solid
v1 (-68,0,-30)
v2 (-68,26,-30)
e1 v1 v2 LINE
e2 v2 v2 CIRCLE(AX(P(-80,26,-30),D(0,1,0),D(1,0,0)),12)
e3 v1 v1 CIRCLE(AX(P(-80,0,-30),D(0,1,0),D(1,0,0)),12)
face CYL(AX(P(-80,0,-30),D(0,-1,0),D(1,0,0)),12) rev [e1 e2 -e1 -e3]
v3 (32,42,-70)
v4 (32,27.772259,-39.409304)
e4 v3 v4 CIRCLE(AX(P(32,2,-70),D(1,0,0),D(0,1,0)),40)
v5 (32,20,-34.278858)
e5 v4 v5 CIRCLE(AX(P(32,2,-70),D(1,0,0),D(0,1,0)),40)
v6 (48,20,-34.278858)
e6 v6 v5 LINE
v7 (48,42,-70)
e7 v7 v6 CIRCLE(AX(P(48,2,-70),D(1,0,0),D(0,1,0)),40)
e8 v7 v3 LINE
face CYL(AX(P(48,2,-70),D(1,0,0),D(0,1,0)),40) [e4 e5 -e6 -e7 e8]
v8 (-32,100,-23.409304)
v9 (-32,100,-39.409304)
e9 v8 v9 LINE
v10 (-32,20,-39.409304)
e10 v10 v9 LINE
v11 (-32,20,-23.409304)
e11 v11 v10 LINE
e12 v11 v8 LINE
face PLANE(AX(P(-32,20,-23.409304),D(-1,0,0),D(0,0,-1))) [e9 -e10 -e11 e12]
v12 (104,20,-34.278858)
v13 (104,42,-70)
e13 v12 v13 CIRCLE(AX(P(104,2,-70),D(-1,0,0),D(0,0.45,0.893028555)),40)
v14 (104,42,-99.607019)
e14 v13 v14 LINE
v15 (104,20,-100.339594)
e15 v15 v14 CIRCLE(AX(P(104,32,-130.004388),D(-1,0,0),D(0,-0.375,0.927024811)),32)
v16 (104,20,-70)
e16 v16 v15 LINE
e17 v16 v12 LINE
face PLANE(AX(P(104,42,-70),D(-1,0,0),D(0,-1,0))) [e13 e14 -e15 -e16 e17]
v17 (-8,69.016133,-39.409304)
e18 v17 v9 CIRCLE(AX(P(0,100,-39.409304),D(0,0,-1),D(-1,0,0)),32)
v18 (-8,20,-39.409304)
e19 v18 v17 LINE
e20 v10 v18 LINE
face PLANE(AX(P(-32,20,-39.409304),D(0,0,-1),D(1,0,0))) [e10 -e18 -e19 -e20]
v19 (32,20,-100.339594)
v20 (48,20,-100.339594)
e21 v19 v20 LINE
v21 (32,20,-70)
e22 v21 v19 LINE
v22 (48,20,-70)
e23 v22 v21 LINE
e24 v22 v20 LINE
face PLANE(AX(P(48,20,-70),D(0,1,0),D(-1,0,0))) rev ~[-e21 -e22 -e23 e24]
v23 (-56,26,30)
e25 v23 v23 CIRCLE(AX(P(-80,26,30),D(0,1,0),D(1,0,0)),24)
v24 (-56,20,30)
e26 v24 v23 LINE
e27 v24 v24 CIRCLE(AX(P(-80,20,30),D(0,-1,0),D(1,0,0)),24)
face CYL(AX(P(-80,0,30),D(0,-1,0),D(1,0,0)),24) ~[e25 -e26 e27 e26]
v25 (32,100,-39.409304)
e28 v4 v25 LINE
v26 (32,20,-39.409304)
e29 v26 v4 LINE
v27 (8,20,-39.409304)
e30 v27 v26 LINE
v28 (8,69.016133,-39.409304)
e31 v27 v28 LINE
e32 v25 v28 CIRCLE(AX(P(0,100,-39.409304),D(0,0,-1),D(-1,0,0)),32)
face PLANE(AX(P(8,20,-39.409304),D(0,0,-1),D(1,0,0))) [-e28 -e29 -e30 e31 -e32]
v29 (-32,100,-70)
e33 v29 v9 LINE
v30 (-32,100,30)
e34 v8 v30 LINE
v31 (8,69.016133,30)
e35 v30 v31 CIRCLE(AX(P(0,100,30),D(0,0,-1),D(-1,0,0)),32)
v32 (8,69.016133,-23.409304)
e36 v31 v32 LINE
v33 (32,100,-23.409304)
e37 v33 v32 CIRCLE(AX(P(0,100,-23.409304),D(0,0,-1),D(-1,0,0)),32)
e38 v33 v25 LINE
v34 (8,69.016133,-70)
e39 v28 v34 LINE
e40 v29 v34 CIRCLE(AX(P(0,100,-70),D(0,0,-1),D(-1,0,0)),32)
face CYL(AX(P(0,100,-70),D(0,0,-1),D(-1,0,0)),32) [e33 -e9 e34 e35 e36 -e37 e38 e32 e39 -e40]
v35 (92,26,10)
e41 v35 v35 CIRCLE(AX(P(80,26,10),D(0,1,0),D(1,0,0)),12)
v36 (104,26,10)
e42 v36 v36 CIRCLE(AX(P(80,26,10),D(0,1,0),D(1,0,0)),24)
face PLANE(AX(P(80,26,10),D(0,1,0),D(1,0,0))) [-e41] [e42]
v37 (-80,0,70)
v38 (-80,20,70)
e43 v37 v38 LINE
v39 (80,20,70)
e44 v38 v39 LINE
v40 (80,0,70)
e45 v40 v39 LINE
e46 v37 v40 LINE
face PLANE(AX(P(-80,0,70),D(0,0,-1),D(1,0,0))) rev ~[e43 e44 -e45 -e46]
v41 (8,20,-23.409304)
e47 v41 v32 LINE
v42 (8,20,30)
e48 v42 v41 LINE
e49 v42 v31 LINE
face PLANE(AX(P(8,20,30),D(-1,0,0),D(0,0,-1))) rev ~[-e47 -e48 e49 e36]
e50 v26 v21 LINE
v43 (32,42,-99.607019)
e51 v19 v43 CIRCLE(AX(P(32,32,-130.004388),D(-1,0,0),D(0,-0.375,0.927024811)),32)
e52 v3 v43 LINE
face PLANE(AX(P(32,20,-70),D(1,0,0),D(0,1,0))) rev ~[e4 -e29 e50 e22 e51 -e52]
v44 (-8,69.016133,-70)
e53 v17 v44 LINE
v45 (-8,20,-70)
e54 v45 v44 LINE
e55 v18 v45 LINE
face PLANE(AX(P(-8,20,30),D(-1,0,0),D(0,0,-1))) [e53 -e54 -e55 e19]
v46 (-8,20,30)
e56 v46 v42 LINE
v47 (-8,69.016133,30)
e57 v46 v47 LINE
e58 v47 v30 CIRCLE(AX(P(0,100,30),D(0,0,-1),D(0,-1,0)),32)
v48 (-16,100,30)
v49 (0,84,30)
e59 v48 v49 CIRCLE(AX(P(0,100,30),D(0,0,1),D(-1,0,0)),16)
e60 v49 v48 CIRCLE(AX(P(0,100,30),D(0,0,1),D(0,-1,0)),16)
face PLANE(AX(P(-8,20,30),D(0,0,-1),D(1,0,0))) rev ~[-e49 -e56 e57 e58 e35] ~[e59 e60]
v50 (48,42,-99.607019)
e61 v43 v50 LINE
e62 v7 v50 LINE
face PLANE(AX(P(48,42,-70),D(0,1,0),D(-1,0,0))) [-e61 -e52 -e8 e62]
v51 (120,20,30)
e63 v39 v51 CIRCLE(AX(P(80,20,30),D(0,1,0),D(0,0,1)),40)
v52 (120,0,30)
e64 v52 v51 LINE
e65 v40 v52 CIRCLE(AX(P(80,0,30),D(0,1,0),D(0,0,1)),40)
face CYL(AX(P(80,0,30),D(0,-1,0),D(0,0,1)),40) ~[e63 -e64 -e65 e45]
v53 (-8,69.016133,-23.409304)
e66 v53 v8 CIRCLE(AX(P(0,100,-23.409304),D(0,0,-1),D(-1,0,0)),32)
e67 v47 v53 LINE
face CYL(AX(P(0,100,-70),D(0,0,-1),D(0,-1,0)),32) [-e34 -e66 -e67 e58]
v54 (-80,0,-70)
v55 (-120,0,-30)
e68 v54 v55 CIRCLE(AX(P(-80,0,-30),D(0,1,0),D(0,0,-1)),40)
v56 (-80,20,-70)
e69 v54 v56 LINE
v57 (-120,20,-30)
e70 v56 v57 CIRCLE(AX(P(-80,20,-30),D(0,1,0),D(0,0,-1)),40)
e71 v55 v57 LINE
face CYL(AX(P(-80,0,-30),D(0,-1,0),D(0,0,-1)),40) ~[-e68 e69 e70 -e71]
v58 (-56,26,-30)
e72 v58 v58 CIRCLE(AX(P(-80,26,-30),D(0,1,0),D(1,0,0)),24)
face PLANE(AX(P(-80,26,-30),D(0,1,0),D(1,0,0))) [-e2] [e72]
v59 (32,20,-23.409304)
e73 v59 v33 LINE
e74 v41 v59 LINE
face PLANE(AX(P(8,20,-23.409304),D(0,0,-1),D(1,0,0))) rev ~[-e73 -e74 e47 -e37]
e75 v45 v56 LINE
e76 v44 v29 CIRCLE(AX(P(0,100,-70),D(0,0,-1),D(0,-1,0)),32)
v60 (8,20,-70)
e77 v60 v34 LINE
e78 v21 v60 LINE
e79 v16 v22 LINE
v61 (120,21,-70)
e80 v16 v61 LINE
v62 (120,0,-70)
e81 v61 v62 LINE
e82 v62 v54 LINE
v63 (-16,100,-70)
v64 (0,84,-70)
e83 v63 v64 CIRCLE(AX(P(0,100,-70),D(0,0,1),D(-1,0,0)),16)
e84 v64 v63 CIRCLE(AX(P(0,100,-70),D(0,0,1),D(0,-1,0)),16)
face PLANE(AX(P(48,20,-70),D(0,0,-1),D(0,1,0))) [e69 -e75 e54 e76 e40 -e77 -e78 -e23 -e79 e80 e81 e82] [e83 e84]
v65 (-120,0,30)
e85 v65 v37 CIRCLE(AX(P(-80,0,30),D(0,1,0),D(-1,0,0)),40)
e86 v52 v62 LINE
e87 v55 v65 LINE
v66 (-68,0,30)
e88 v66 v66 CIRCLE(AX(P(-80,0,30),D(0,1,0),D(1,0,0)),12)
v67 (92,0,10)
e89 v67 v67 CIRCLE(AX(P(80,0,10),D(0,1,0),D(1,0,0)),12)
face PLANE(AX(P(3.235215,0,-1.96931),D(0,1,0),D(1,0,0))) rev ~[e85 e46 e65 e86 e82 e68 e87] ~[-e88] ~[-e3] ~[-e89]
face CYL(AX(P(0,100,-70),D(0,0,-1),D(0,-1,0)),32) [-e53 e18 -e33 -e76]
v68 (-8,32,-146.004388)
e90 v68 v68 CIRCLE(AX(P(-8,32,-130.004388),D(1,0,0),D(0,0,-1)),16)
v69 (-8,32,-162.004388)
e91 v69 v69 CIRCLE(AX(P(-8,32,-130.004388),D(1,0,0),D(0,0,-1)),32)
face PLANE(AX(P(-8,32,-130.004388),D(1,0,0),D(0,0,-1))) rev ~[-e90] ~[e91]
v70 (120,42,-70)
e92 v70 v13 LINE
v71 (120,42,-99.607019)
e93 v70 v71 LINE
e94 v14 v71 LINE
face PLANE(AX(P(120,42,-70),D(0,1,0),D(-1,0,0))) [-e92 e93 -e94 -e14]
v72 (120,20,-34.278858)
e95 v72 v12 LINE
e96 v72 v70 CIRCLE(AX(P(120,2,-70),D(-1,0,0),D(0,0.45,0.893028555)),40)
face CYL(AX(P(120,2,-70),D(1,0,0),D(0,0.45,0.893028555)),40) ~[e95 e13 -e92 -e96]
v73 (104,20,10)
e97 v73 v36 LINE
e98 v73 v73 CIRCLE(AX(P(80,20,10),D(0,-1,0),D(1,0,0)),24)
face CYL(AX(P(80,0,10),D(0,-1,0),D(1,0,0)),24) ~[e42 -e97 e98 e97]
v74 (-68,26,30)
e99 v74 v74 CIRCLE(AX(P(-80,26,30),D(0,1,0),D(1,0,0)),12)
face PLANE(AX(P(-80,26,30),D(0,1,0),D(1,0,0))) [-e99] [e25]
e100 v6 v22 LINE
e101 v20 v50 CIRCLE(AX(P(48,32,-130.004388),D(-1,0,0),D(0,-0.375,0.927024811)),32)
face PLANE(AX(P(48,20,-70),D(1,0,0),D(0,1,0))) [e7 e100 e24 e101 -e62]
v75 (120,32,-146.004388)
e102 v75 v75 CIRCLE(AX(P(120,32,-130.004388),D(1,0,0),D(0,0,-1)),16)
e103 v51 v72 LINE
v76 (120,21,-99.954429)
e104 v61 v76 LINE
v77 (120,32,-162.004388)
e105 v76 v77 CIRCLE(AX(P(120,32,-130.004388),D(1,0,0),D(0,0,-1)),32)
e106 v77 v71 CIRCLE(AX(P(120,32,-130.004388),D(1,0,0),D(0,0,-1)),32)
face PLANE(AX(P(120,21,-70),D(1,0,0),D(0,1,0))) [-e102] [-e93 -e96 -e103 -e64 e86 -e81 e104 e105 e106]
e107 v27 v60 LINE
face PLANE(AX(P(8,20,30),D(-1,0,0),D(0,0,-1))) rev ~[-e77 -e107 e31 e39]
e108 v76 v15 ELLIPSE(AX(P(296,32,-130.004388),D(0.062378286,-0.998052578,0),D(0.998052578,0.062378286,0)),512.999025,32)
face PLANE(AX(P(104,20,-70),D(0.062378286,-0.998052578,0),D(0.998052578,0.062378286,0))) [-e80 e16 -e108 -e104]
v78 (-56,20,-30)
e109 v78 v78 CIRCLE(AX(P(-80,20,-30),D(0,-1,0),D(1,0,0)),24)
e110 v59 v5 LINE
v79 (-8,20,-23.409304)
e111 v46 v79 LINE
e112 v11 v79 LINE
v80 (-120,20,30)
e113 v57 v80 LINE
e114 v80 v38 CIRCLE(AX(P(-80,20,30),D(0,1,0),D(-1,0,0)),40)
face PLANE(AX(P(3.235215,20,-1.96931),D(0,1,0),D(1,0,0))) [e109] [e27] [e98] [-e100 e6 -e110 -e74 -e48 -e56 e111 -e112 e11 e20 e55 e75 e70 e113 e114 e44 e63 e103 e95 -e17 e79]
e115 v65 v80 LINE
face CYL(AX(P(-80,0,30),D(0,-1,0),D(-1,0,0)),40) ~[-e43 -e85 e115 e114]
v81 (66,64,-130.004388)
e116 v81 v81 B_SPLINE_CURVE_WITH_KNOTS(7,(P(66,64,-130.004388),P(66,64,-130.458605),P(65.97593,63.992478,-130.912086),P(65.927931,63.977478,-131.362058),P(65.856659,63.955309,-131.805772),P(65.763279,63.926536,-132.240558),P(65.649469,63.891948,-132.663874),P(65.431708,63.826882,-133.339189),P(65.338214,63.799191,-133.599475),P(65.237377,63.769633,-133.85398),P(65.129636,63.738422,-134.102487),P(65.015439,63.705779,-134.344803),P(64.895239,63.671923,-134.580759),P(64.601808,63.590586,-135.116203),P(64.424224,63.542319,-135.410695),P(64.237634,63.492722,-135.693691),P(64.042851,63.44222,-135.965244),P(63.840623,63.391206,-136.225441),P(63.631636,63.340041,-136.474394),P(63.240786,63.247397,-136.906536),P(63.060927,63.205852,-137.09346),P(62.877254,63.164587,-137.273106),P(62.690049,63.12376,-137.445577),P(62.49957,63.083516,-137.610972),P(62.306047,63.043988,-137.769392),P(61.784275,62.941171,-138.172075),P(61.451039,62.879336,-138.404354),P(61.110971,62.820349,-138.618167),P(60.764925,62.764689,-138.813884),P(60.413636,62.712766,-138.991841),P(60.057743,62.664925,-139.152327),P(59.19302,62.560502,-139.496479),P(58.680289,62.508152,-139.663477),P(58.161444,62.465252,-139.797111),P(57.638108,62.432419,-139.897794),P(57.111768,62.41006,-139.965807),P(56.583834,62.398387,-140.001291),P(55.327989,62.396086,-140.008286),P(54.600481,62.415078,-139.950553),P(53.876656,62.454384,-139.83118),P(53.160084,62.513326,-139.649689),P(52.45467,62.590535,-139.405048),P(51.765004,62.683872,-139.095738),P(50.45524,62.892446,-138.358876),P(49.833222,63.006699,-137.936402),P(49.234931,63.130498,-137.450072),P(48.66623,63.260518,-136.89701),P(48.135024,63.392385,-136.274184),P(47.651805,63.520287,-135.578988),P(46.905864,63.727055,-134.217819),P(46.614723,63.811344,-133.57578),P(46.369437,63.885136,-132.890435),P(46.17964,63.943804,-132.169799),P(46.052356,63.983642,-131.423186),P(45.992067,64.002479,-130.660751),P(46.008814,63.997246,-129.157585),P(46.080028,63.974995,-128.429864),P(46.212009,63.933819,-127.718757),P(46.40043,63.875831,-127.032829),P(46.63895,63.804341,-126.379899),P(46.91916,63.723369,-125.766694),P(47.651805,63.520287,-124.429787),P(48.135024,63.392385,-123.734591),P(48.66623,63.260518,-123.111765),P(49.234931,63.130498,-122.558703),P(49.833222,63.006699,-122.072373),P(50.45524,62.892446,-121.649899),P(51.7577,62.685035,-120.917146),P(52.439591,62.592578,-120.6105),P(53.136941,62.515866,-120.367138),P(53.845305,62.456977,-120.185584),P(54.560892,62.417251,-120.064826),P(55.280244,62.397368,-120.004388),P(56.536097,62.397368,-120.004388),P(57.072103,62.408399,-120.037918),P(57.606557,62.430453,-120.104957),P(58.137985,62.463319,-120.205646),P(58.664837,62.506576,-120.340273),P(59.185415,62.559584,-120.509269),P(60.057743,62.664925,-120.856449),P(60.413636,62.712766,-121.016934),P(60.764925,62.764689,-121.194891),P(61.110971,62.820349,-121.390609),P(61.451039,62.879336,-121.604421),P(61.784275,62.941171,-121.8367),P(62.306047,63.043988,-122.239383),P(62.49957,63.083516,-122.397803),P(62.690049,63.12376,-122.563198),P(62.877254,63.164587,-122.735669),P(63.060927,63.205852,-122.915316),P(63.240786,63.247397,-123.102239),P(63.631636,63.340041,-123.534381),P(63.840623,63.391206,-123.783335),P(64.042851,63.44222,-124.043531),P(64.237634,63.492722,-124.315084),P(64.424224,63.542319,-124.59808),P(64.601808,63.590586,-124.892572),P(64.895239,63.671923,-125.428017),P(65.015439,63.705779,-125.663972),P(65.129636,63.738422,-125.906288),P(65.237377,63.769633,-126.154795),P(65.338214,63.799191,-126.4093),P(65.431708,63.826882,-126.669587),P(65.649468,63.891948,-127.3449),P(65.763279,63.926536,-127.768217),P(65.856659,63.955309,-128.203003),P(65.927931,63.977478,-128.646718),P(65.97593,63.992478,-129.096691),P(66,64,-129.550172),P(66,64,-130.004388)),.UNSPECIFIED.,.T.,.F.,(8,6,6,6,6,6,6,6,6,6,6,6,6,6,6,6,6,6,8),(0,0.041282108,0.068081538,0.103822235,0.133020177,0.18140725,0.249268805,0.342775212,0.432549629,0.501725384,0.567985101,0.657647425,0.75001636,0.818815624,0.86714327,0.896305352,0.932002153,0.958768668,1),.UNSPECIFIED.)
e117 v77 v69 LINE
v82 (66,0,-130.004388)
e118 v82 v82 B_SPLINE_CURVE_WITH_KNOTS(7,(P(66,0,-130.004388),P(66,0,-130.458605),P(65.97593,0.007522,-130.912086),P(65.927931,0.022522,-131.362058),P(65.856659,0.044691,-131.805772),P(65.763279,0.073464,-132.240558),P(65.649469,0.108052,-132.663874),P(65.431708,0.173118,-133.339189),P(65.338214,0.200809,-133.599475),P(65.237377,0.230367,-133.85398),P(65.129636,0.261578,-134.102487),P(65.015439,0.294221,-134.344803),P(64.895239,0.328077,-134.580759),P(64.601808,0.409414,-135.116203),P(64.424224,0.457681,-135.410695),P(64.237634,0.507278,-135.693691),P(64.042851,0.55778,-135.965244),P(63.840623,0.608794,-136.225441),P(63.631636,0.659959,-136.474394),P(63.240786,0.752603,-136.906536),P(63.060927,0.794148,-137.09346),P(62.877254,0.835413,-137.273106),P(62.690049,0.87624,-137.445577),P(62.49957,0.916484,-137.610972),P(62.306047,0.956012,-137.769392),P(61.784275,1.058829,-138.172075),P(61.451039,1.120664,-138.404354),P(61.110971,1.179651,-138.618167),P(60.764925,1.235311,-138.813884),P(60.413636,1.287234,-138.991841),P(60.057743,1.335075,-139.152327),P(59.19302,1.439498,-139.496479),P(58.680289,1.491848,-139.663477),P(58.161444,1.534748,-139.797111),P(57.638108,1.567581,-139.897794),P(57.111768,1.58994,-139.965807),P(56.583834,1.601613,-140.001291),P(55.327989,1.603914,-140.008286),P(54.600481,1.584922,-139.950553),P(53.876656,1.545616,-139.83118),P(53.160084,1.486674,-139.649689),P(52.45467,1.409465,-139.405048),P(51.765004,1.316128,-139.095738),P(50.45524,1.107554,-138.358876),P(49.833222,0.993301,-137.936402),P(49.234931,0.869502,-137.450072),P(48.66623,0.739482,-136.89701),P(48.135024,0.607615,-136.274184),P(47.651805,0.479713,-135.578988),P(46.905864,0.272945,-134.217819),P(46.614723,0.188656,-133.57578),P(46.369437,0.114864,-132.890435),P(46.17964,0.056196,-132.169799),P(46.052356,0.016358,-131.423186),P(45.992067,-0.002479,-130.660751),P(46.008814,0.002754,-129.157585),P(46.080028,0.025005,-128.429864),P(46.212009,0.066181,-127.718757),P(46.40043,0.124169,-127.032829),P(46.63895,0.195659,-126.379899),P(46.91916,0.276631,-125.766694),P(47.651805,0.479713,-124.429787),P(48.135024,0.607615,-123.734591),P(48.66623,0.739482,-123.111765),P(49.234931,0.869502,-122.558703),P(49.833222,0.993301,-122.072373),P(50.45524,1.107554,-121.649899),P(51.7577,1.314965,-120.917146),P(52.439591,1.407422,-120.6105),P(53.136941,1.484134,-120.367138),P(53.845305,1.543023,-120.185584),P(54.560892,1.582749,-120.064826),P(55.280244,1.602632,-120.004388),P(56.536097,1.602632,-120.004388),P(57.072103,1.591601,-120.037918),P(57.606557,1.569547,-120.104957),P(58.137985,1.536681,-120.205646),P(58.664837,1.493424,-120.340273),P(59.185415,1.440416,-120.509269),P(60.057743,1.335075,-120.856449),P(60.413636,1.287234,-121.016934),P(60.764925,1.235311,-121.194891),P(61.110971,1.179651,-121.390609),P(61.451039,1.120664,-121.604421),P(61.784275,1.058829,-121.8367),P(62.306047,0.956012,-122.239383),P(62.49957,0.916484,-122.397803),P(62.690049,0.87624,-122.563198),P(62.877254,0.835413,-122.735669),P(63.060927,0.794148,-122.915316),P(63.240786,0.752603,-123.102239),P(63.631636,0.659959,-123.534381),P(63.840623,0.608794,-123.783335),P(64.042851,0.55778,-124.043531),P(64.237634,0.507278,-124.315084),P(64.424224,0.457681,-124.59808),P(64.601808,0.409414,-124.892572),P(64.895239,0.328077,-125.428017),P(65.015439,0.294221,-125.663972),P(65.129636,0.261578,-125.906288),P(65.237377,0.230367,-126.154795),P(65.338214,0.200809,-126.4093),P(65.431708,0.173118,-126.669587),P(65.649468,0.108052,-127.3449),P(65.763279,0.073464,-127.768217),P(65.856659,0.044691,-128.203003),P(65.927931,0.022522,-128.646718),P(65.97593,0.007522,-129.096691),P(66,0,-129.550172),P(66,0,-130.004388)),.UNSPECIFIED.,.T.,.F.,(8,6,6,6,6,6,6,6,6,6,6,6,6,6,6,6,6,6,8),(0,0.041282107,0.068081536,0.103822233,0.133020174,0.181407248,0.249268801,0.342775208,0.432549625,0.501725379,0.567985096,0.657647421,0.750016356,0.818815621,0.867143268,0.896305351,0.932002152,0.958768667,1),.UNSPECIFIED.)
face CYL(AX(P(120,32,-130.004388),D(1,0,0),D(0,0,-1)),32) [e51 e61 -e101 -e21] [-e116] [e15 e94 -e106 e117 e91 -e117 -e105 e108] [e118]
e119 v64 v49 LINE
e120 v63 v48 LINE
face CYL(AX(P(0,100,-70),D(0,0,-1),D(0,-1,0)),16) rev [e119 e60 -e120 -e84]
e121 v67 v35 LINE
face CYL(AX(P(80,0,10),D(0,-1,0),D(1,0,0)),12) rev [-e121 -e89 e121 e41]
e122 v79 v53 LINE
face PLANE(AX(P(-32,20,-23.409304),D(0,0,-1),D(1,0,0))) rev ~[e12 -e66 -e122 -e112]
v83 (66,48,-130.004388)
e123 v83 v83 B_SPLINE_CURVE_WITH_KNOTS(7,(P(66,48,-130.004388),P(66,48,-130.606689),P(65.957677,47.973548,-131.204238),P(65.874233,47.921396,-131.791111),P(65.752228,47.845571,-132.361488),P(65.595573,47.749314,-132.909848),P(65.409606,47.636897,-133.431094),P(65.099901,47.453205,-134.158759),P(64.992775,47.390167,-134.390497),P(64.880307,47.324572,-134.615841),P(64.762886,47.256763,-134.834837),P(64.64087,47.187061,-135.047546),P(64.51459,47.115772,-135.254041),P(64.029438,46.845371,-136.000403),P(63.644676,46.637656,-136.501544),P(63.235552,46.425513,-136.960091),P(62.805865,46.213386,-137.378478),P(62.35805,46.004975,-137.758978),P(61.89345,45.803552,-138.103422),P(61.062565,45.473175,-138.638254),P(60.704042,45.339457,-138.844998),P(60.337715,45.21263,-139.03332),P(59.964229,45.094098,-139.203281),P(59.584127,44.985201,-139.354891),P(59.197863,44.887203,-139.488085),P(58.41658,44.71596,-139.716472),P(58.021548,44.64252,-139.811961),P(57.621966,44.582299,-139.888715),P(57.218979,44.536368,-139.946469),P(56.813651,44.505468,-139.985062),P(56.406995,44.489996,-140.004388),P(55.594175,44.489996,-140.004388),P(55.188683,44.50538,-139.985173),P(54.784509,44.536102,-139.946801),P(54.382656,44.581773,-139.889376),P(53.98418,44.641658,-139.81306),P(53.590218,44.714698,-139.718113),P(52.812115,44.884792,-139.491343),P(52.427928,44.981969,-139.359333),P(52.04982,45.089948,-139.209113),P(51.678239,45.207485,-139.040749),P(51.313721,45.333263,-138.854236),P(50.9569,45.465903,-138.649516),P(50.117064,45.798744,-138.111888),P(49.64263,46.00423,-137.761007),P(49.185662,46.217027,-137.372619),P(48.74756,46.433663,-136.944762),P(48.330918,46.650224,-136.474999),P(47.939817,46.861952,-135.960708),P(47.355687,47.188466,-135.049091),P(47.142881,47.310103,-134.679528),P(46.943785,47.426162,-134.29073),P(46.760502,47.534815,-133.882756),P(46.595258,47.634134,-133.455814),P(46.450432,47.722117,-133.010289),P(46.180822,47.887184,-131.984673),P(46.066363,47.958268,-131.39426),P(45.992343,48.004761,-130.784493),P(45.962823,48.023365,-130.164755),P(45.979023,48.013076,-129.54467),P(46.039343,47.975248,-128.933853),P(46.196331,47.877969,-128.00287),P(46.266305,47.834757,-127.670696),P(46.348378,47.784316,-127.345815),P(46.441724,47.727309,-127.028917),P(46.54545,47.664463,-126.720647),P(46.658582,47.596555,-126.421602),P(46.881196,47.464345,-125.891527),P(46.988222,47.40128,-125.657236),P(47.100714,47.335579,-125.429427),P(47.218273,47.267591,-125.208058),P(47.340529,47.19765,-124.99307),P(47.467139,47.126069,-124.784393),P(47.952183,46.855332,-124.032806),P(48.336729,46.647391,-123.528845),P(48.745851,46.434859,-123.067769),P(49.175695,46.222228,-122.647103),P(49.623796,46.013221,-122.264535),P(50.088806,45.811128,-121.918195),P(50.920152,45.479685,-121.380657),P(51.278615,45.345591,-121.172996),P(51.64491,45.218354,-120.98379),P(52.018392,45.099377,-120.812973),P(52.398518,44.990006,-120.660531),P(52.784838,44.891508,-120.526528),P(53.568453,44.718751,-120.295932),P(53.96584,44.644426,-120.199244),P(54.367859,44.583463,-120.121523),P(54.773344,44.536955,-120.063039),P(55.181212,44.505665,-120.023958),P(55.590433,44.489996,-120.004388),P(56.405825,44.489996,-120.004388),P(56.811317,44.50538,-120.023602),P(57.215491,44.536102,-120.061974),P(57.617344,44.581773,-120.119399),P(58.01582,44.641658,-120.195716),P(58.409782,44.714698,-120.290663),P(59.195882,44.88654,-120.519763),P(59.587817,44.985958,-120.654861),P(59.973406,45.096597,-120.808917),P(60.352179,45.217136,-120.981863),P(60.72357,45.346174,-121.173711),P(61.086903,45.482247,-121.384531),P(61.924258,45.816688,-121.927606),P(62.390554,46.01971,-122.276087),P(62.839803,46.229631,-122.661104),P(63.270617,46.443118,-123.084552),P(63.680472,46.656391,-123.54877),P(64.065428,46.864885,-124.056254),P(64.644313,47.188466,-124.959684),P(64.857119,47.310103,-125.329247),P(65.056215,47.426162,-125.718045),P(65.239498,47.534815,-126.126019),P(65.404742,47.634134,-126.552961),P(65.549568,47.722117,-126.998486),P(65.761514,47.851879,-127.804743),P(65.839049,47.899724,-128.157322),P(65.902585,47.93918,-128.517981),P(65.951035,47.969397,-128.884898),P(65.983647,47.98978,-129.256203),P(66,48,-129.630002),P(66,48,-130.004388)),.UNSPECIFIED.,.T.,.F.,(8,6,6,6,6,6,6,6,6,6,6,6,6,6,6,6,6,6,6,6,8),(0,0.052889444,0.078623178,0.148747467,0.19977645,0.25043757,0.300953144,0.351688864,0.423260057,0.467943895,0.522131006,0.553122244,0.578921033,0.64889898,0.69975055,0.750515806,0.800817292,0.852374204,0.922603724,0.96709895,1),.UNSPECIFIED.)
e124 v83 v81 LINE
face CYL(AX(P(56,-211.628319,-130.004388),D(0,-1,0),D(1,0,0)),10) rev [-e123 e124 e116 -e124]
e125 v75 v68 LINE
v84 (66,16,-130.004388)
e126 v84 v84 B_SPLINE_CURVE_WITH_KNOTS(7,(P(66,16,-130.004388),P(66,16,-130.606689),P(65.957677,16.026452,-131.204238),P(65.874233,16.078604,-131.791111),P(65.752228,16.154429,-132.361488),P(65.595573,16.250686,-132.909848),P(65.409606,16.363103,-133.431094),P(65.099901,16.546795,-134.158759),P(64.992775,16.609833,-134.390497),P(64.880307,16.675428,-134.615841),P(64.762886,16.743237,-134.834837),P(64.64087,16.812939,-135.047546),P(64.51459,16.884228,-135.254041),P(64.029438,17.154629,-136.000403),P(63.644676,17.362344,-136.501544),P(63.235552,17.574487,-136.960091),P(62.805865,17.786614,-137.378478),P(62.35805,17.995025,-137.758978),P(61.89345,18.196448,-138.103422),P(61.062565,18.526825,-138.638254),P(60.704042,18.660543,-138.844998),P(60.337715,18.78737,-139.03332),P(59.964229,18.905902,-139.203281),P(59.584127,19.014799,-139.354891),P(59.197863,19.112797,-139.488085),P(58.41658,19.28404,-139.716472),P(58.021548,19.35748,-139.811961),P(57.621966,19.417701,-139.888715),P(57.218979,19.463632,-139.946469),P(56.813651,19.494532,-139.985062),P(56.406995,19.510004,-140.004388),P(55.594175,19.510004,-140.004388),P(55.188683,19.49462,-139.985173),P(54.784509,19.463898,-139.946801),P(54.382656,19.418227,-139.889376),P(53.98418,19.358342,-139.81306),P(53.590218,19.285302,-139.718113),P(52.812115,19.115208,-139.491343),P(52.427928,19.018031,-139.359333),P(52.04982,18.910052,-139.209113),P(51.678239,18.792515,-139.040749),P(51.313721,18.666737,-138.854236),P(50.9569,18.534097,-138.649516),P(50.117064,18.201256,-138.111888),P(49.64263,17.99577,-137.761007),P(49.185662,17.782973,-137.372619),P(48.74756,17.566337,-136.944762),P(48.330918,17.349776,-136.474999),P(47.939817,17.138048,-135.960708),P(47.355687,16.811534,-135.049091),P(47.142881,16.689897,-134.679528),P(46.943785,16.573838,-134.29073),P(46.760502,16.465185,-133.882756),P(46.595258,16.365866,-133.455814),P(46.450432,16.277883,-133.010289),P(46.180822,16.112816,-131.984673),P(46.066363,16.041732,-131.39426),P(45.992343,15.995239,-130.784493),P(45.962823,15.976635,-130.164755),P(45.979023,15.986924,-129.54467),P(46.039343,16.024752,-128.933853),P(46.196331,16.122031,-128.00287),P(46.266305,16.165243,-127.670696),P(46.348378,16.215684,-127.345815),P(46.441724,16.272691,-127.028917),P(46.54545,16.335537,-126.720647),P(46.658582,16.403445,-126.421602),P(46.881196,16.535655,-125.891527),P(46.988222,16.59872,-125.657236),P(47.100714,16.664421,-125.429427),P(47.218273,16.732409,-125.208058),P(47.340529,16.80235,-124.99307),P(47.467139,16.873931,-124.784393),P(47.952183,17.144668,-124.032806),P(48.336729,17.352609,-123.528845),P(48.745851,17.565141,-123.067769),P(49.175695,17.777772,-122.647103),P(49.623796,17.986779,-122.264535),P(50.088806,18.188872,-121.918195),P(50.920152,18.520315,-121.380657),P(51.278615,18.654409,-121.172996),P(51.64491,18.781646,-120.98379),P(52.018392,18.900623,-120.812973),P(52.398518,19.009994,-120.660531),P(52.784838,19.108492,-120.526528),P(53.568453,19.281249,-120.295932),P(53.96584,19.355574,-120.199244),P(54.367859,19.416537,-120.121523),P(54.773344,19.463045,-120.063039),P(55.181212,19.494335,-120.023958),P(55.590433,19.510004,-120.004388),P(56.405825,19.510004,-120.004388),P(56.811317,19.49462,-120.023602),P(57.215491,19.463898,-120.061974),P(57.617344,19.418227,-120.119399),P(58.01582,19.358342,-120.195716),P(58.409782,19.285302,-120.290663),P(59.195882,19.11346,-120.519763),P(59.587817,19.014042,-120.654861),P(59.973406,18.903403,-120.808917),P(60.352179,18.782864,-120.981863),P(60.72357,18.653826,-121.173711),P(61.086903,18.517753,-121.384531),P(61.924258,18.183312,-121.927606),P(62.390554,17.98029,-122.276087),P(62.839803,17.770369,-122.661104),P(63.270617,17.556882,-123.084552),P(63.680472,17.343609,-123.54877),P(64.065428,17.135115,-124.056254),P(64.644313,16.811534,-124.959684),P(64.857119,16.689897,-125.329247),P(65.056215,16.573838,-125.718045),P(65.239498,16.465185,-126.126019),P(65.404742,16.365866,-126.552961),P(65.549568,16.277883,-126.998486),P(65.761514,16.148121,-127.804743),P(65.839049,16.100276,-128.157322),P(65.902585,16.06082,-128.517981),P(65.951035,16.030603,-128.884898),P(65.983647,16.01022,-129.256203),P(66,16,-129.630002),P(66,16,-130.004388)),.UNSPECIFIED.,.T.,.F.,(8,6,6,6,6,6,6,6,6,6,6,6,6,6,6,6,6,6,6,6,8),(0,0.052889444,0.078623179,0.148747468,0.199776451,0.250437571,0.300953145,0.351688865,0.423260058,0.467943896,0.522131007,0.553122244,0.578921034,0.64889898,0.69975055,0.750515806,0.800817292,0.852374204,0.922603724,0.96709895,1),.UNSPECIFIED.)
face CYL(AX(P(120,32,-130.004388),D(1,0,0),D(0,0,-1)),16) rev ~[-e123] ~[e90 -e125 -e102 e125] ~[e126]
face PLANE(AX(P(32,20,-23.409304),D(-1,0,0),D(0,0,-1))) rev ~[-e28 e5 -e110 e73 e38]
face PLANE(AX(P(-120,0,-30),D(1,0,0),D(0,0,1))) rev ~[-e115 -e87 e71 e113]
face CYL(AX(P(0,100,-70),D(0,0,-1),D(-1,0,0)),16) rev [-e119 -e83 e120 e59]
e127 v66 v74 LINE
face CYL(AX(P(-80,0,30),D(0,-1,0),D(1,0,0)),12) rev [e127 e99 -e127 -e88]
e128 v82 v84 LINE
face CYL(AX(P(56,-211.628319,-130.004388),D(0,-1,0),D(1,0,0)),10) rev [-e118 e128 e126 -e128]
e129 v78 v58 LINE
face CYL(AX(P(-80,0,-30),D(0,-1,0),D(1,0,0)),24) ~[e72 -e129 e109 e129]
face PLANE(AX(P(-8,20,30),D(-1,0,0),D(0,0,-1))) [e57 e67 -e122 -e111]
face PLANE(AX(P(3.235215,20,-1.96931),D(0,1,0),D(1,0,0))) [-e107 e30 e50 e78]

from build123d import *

# Parameters (mm, degrees)
SKETCH_3_R               = 12
EXTRUDE_2_DEPTH          = 20
SKETCH_3_7_R             = 24
SKETCH_3_7_R_2           = 12
EXTRUDE_3_DEPTH          = 26
EXTRUDE_5_DEPTH          = 100
EXTRUDE_6_REACH          = 180.449
EXTRUDE_6_END_RADIUS     = 32
SKETCH_15_W              = 16
SKETCH_15_H              = 100
EXTRUDE_9_REACH          = 180.449
EXTRUDE_9_END_RADIUS     = 32
SKETCH_16_W              = 24
SKETCH_16_H              = 16
SKETCH_25_R              = 32
SKETCH_25_R_2            = 16
EXTRUDE_10_DEPTH         = 128
CUT_EXTRUDE_1_DEPTH      = 231.628319156
CUT_EXTRUDE_1_DEPTH_BACK = 231.628319156
SKETCH_28_R              = 10
EXTRUDE_11_DEPTH         = 16
EXTRUDE_12_DEPTH         = 16
EXTRUDE_13_REACH         = 228.769
EXTRUDE_13_END_RADIUS    = 32
EXTRUDE_14_REACH         = 228.769
EXTRUDE_14_END_RADIUS    = 32
SKETCH_38_W              = 16
SKETCH_38_H              = 22


with BuildPart() as part:
    # 草图3 → 凸台-拉伸2 (new body)
    with BuildSketch(Plane(origin=(0, 0, 0), x_dir=(1, 0, 0), z_dir=(0, 1, 0))):
        with BuildLine():
            ThreePointArc((-120, -30), (-108.284271247, -58.284271247), (-80, -70))
            Line((-80, -70), (80, -70))
            ThreePointArc((80, -70), (108.284271247, -58.284271247), (120, -30))
            Line((120, -30), (120, 70))
            Line((120, 70), (-80, 70))
            ThreePointArc((-80, 70), (-108.284271247, 58.284271247), (-120, 30))
            Line((-120, 30), (-120, -30))
        make_face()
        with Locations((-80, 30)):
            Circle(SKETCH_3_R, mode=Mode.SUBTRACT)
        with Locations((-80, -30)):
            Circle(SKETCH_3_R, mode=Mode.SUBTRACT)
        with Locations((80, -10)):
            Circle(SKETCH_3_R, mode=Mode.SUBTRACT)
    extrude(amount=EXTRUDE_2_DEPTH)

    # 草图3<7> → 凸台-拉伸3 (add)
    # profile 1 of 3: a face of its own
    with BuildSketch(Plane(origin=(0, 0, 0), x_dir=(1, 0, 0), z_dir=(0, 1, 0))):
        with Locations((-80, 30)):
            Circle(SKETCH_3_7_R)
        with Locations((-80, 30)):
            Circle(SKETCH_3_7_R_2, mode=Mode.SUBTRACT)
    # profile 2 of 3: a face of its own
    with BuildSketch(Plane(origin=(0, 0, 0), x_dir=(1, 0, 0), z_dir=(0, 1, 0))):
        with Locations((-80, -30)):
            Circle(SKETCH_3_7_R)
        with Locations((-80, -30)):
            Circle(SKETCH_3_7_R_2, mode=Mode.SUBTRACT)
    # profile 3 of 3: a face of its own
    with BuildSketch(Plane(origin=(0, 0, 0), x_dir=(1, 0, 0), z_dir=(0, 1, 0))):
        with Locations((80, -10)):
            Circle(SKETCH_3_7_R)
        with Locations((80, -10)):
            Circle(SKETCH_3_7_R_2, mode=Mode.SUBTRACT)
    extrude(amount=EXTRUDE_3_DEPTH)



with BuildPart() as body_2:
    # 草图10 → 凸台-拉伸5 (new body)
    with BuildSketch(Plane(origin=(0, 0, -70), x_dir=(-1, 0, 0), z_dir=(0, 0, -1))):
        with BuildLine():
            ThreePointArc((32, 100), (-22.627416998, 122.627416998), (0, 68))
            ThreePointArc((0, 68), (22.627416998, 77.372583002), (32, 100))
        make_face()
        with BuildLine():
            ThreePointArc((16, 100), (11.313708499, 88.686291501), (0, 84))
            ThreePointArc((0, 84), (-11.313708499, 111.313708499), (16, 100))
        make_face(mode=Mode.SUBTRACT)
    extrude(amount=-EXTRUDE_5_DEPTH)


with BuildPart() as part_1:
    add(part.part)

    add(body_2.part)  # 凸台-拉伸6 merges body 2
    # 凸台-拉伸6: up to this cylinder (the profile starts outside it)
    extrude_6_end = Plane(origin=(0, 100, -20), z_dir=(0, 0, -1)) * Cylinder(EXTRUDE_6_END_RADIUS, 425.898, mode=Mode.PRIVATE)
    # 草图15 → 凸台-拉伸6 (add, up to the surface)
    with BuildSketch(Plane(origin=(0, 20, 0), x_dir=(1, 0, 0), z_dir=(0, 1, 0)), mode=Mode.PRIVATE) as extrude_6_sk1:
        with Locations((0, 20)):
            Rectangle(SKETCH_15_W, SKETCH_15_H)
    extrude_6_tool1 = extrude(extrude_6_sk1.sketch, amount=EXTRUDE_6_REACH, mode=Mode.PRIVATE) - extrude_6_end
    add(extrude_6_tool1.solids().sort_by_distance((0, 20, -20))[0])

    # 凸台-拉伸9: up to this cylinder (the profile starts outside it)
    extrude_9_end = Plane(origin=(0, 100, -31.409304), z_dir=(0, 0, -1)) * Cylinder(EXTRUDE_9_END_RADIUS, 425.898, mode=Mode.PRIVATE)
    # 草图16 → 凸台-拉伸9 (add, up to the surface)
    with BuildSketch(Plane(origin=(0, 20, 0), x_dir=(1, 0, 0), z_dir=(0, 1, 0)), mode=Mode.PRIVATE) as extrude_9_sk1:
        with Locations((20, 31.409304245)):
            Rectangle(SKETCH_16_W, SKETCH_16_H)
    extrude_9_tool1 = extrude(extrude_9_sk1.sketch, amount=EXTRUDE_9_REACH, mode=Mode.PRIVATE) - extrude_9_end
    add(extrude_9_tool1.solids().sort_by_distance((20, 20, -31.409304))[0])
    # 草图16 → 凸台-拉伸9 (add, up to the surface)
    with BuildSketch(Plane(origin=(0, 20, 0), x_dir=(1, 0, 0), z_dir=(0, 1, 0)), mode=Mode.PRIVATE) as extrude_9_sk2:
        with Locations((-20, 31.409304245)):
            Rectangle(SKETCH_16_W, SKETCH_16_H)
    extrude_9_tool2 = extrude(extrude_9_sk2.sketch, amount=EXTRUDE_9_REACH, mode=Mode.PRIVATE) - extrude_9_end
    add(extrude_9_tool2.solids().sort_by_distance((-20, 20, -31.409304))[0])

    # 草图30 → 凸台-拉伸11 (add)
    with BuildSketch(Plane(origin=(120, 0, 0), x_dir=(0, 0, -1), z_dir=(1, 0, 0))):
        with BuildLine():
            Line((70, 42), (70, 20))
            Line((70, 20), (34.278857801, 20))
            ThreePointArc((34.278857801, 20), (49.023823037, 36.058772732), (70, 42))
        make_face()
    extrude(amount=-EXTRUDE_11_DEPTH)

    # 草图34 → 凸台-拉伸12 (add)
    with BuildSketch(Plane(origin=(48, 0, 0), x_dir=(0, 0, -1), z_dir=(1, 0, 0))):
        with BuildLine():
            ThreePointArc((70, 42), (49.023823037, 36.058772732), (34.278857801, 20))
            Line((34.278857801, 20), (70, 20))
            Line((70, 20), (70, 42))
        make_face()
    extrude(amount=-EXTRUDE_12_DEPTH)



with BuildPart() as body_2_2:
    # 草图25 → 凸台-拉伸10 (new body)
    with BuildSketch(Plane(origin=(120, 0, 0), x_dir=(0, 0, -1), z_dir=(1, 0, 0))):
        with Locations((130.004387585, 32)):
            Circle(SKETCH_25_R)
        with Locations((130.004387585, 32)):
            Circle(SKETCH_25_R_2, mode=Mode.SUBTRACT)
    extrude(amount=-EXTRUDE_10_DEPTH)

    # 草图28 → 切除-拉伸1 (cut, two sides: drawn at the far end of the back side and taken through both)
    with BuildSketch(Plane(origin=(0, 20, 0), x_dir=(1, 0, 0), z_dir=(0, 1, 0)).offset(-CUT_EXTRUDE_1_DEPTH_BACK)):
        with Locations((56, 130.004387585)):
            Circle(SKETCH_28_R)
    extrude(amount=CUT_EXTRUDE_1_DEPTH + CUT_EXTRUDE_1_DEPTH_BACK, mode=Mode.SUBTRACT)


with BuildPart() as part_2:
    add(part_1.part)

    add(body_2_2.part)  # 凸台-拉伸13 merges body 2 2
    # 凸台-拉伸13: up to this cylinder (the profile starts outside it)
    extrude_13_end = Plane(origin=(111.937984, 32, -130.004387585), z_dir=(1, 0, 0)) * Cylinder(EXTRUDE_13_END_RADIUS, 522.538, mode=Mode.PRIVATE)
    # 草图37 → 凸台-拉伸13 (add, up to the surface)
    with BuildSketch(Plane(origin=(0, 0, -70), x_dir=(-1, 0, 0), z_dir=(0, 0, -1)), mode=Mode.PRIVATE) as extrude_13_sk1:
        Polygon((-104, 20), (-120, 21), (-120, 42), (-104, 42), align=None)
    extrude_13_tool1 = extrude(extrude_13_sk1.sketch, amount=EXTRUDE_13_REACH, mode=Mode.PRIVATE) - extrude_13_end
    add(extrude_13_tool1.solids().sort_by_distance((111.937984, 31.248062, -70))[0])

    # 凸台-拉伸14: up to this cylinder (the profile starts outside it)
    extrude_14_end = Plane(origin=(40, 32, -130.004387585), z_dir=(1, 0, 0)) * Cylinder(EXTRUDE_14_END_RADIUS, 522.538, mode=Mode.PRIVATE)
    # 草图38 → 凸台-拉伸14 (add, up to the surface)
    with BuildSketch(Plane(origin=(0, 0, -70), x_dir=(-1, 0, 0), z_dir=(0, 0, -1)), mode=Mode.PRIVATE) as extrude_14_sk1:
        with Locations((-40, 31)):
            Rectangle(SKETCH_38_W, SKETCH_38_H)
    extrude_14_tool1 = extrude(extrude_14_sk1.sketch, amount=EXTRUDE_14_REACH, mode=Mode.PRIVATE) - extrude_14_end
    add(extrude_14_tool1.solids().sort_by_distance((40, 31, -70))[0])


solid = part_2.part
